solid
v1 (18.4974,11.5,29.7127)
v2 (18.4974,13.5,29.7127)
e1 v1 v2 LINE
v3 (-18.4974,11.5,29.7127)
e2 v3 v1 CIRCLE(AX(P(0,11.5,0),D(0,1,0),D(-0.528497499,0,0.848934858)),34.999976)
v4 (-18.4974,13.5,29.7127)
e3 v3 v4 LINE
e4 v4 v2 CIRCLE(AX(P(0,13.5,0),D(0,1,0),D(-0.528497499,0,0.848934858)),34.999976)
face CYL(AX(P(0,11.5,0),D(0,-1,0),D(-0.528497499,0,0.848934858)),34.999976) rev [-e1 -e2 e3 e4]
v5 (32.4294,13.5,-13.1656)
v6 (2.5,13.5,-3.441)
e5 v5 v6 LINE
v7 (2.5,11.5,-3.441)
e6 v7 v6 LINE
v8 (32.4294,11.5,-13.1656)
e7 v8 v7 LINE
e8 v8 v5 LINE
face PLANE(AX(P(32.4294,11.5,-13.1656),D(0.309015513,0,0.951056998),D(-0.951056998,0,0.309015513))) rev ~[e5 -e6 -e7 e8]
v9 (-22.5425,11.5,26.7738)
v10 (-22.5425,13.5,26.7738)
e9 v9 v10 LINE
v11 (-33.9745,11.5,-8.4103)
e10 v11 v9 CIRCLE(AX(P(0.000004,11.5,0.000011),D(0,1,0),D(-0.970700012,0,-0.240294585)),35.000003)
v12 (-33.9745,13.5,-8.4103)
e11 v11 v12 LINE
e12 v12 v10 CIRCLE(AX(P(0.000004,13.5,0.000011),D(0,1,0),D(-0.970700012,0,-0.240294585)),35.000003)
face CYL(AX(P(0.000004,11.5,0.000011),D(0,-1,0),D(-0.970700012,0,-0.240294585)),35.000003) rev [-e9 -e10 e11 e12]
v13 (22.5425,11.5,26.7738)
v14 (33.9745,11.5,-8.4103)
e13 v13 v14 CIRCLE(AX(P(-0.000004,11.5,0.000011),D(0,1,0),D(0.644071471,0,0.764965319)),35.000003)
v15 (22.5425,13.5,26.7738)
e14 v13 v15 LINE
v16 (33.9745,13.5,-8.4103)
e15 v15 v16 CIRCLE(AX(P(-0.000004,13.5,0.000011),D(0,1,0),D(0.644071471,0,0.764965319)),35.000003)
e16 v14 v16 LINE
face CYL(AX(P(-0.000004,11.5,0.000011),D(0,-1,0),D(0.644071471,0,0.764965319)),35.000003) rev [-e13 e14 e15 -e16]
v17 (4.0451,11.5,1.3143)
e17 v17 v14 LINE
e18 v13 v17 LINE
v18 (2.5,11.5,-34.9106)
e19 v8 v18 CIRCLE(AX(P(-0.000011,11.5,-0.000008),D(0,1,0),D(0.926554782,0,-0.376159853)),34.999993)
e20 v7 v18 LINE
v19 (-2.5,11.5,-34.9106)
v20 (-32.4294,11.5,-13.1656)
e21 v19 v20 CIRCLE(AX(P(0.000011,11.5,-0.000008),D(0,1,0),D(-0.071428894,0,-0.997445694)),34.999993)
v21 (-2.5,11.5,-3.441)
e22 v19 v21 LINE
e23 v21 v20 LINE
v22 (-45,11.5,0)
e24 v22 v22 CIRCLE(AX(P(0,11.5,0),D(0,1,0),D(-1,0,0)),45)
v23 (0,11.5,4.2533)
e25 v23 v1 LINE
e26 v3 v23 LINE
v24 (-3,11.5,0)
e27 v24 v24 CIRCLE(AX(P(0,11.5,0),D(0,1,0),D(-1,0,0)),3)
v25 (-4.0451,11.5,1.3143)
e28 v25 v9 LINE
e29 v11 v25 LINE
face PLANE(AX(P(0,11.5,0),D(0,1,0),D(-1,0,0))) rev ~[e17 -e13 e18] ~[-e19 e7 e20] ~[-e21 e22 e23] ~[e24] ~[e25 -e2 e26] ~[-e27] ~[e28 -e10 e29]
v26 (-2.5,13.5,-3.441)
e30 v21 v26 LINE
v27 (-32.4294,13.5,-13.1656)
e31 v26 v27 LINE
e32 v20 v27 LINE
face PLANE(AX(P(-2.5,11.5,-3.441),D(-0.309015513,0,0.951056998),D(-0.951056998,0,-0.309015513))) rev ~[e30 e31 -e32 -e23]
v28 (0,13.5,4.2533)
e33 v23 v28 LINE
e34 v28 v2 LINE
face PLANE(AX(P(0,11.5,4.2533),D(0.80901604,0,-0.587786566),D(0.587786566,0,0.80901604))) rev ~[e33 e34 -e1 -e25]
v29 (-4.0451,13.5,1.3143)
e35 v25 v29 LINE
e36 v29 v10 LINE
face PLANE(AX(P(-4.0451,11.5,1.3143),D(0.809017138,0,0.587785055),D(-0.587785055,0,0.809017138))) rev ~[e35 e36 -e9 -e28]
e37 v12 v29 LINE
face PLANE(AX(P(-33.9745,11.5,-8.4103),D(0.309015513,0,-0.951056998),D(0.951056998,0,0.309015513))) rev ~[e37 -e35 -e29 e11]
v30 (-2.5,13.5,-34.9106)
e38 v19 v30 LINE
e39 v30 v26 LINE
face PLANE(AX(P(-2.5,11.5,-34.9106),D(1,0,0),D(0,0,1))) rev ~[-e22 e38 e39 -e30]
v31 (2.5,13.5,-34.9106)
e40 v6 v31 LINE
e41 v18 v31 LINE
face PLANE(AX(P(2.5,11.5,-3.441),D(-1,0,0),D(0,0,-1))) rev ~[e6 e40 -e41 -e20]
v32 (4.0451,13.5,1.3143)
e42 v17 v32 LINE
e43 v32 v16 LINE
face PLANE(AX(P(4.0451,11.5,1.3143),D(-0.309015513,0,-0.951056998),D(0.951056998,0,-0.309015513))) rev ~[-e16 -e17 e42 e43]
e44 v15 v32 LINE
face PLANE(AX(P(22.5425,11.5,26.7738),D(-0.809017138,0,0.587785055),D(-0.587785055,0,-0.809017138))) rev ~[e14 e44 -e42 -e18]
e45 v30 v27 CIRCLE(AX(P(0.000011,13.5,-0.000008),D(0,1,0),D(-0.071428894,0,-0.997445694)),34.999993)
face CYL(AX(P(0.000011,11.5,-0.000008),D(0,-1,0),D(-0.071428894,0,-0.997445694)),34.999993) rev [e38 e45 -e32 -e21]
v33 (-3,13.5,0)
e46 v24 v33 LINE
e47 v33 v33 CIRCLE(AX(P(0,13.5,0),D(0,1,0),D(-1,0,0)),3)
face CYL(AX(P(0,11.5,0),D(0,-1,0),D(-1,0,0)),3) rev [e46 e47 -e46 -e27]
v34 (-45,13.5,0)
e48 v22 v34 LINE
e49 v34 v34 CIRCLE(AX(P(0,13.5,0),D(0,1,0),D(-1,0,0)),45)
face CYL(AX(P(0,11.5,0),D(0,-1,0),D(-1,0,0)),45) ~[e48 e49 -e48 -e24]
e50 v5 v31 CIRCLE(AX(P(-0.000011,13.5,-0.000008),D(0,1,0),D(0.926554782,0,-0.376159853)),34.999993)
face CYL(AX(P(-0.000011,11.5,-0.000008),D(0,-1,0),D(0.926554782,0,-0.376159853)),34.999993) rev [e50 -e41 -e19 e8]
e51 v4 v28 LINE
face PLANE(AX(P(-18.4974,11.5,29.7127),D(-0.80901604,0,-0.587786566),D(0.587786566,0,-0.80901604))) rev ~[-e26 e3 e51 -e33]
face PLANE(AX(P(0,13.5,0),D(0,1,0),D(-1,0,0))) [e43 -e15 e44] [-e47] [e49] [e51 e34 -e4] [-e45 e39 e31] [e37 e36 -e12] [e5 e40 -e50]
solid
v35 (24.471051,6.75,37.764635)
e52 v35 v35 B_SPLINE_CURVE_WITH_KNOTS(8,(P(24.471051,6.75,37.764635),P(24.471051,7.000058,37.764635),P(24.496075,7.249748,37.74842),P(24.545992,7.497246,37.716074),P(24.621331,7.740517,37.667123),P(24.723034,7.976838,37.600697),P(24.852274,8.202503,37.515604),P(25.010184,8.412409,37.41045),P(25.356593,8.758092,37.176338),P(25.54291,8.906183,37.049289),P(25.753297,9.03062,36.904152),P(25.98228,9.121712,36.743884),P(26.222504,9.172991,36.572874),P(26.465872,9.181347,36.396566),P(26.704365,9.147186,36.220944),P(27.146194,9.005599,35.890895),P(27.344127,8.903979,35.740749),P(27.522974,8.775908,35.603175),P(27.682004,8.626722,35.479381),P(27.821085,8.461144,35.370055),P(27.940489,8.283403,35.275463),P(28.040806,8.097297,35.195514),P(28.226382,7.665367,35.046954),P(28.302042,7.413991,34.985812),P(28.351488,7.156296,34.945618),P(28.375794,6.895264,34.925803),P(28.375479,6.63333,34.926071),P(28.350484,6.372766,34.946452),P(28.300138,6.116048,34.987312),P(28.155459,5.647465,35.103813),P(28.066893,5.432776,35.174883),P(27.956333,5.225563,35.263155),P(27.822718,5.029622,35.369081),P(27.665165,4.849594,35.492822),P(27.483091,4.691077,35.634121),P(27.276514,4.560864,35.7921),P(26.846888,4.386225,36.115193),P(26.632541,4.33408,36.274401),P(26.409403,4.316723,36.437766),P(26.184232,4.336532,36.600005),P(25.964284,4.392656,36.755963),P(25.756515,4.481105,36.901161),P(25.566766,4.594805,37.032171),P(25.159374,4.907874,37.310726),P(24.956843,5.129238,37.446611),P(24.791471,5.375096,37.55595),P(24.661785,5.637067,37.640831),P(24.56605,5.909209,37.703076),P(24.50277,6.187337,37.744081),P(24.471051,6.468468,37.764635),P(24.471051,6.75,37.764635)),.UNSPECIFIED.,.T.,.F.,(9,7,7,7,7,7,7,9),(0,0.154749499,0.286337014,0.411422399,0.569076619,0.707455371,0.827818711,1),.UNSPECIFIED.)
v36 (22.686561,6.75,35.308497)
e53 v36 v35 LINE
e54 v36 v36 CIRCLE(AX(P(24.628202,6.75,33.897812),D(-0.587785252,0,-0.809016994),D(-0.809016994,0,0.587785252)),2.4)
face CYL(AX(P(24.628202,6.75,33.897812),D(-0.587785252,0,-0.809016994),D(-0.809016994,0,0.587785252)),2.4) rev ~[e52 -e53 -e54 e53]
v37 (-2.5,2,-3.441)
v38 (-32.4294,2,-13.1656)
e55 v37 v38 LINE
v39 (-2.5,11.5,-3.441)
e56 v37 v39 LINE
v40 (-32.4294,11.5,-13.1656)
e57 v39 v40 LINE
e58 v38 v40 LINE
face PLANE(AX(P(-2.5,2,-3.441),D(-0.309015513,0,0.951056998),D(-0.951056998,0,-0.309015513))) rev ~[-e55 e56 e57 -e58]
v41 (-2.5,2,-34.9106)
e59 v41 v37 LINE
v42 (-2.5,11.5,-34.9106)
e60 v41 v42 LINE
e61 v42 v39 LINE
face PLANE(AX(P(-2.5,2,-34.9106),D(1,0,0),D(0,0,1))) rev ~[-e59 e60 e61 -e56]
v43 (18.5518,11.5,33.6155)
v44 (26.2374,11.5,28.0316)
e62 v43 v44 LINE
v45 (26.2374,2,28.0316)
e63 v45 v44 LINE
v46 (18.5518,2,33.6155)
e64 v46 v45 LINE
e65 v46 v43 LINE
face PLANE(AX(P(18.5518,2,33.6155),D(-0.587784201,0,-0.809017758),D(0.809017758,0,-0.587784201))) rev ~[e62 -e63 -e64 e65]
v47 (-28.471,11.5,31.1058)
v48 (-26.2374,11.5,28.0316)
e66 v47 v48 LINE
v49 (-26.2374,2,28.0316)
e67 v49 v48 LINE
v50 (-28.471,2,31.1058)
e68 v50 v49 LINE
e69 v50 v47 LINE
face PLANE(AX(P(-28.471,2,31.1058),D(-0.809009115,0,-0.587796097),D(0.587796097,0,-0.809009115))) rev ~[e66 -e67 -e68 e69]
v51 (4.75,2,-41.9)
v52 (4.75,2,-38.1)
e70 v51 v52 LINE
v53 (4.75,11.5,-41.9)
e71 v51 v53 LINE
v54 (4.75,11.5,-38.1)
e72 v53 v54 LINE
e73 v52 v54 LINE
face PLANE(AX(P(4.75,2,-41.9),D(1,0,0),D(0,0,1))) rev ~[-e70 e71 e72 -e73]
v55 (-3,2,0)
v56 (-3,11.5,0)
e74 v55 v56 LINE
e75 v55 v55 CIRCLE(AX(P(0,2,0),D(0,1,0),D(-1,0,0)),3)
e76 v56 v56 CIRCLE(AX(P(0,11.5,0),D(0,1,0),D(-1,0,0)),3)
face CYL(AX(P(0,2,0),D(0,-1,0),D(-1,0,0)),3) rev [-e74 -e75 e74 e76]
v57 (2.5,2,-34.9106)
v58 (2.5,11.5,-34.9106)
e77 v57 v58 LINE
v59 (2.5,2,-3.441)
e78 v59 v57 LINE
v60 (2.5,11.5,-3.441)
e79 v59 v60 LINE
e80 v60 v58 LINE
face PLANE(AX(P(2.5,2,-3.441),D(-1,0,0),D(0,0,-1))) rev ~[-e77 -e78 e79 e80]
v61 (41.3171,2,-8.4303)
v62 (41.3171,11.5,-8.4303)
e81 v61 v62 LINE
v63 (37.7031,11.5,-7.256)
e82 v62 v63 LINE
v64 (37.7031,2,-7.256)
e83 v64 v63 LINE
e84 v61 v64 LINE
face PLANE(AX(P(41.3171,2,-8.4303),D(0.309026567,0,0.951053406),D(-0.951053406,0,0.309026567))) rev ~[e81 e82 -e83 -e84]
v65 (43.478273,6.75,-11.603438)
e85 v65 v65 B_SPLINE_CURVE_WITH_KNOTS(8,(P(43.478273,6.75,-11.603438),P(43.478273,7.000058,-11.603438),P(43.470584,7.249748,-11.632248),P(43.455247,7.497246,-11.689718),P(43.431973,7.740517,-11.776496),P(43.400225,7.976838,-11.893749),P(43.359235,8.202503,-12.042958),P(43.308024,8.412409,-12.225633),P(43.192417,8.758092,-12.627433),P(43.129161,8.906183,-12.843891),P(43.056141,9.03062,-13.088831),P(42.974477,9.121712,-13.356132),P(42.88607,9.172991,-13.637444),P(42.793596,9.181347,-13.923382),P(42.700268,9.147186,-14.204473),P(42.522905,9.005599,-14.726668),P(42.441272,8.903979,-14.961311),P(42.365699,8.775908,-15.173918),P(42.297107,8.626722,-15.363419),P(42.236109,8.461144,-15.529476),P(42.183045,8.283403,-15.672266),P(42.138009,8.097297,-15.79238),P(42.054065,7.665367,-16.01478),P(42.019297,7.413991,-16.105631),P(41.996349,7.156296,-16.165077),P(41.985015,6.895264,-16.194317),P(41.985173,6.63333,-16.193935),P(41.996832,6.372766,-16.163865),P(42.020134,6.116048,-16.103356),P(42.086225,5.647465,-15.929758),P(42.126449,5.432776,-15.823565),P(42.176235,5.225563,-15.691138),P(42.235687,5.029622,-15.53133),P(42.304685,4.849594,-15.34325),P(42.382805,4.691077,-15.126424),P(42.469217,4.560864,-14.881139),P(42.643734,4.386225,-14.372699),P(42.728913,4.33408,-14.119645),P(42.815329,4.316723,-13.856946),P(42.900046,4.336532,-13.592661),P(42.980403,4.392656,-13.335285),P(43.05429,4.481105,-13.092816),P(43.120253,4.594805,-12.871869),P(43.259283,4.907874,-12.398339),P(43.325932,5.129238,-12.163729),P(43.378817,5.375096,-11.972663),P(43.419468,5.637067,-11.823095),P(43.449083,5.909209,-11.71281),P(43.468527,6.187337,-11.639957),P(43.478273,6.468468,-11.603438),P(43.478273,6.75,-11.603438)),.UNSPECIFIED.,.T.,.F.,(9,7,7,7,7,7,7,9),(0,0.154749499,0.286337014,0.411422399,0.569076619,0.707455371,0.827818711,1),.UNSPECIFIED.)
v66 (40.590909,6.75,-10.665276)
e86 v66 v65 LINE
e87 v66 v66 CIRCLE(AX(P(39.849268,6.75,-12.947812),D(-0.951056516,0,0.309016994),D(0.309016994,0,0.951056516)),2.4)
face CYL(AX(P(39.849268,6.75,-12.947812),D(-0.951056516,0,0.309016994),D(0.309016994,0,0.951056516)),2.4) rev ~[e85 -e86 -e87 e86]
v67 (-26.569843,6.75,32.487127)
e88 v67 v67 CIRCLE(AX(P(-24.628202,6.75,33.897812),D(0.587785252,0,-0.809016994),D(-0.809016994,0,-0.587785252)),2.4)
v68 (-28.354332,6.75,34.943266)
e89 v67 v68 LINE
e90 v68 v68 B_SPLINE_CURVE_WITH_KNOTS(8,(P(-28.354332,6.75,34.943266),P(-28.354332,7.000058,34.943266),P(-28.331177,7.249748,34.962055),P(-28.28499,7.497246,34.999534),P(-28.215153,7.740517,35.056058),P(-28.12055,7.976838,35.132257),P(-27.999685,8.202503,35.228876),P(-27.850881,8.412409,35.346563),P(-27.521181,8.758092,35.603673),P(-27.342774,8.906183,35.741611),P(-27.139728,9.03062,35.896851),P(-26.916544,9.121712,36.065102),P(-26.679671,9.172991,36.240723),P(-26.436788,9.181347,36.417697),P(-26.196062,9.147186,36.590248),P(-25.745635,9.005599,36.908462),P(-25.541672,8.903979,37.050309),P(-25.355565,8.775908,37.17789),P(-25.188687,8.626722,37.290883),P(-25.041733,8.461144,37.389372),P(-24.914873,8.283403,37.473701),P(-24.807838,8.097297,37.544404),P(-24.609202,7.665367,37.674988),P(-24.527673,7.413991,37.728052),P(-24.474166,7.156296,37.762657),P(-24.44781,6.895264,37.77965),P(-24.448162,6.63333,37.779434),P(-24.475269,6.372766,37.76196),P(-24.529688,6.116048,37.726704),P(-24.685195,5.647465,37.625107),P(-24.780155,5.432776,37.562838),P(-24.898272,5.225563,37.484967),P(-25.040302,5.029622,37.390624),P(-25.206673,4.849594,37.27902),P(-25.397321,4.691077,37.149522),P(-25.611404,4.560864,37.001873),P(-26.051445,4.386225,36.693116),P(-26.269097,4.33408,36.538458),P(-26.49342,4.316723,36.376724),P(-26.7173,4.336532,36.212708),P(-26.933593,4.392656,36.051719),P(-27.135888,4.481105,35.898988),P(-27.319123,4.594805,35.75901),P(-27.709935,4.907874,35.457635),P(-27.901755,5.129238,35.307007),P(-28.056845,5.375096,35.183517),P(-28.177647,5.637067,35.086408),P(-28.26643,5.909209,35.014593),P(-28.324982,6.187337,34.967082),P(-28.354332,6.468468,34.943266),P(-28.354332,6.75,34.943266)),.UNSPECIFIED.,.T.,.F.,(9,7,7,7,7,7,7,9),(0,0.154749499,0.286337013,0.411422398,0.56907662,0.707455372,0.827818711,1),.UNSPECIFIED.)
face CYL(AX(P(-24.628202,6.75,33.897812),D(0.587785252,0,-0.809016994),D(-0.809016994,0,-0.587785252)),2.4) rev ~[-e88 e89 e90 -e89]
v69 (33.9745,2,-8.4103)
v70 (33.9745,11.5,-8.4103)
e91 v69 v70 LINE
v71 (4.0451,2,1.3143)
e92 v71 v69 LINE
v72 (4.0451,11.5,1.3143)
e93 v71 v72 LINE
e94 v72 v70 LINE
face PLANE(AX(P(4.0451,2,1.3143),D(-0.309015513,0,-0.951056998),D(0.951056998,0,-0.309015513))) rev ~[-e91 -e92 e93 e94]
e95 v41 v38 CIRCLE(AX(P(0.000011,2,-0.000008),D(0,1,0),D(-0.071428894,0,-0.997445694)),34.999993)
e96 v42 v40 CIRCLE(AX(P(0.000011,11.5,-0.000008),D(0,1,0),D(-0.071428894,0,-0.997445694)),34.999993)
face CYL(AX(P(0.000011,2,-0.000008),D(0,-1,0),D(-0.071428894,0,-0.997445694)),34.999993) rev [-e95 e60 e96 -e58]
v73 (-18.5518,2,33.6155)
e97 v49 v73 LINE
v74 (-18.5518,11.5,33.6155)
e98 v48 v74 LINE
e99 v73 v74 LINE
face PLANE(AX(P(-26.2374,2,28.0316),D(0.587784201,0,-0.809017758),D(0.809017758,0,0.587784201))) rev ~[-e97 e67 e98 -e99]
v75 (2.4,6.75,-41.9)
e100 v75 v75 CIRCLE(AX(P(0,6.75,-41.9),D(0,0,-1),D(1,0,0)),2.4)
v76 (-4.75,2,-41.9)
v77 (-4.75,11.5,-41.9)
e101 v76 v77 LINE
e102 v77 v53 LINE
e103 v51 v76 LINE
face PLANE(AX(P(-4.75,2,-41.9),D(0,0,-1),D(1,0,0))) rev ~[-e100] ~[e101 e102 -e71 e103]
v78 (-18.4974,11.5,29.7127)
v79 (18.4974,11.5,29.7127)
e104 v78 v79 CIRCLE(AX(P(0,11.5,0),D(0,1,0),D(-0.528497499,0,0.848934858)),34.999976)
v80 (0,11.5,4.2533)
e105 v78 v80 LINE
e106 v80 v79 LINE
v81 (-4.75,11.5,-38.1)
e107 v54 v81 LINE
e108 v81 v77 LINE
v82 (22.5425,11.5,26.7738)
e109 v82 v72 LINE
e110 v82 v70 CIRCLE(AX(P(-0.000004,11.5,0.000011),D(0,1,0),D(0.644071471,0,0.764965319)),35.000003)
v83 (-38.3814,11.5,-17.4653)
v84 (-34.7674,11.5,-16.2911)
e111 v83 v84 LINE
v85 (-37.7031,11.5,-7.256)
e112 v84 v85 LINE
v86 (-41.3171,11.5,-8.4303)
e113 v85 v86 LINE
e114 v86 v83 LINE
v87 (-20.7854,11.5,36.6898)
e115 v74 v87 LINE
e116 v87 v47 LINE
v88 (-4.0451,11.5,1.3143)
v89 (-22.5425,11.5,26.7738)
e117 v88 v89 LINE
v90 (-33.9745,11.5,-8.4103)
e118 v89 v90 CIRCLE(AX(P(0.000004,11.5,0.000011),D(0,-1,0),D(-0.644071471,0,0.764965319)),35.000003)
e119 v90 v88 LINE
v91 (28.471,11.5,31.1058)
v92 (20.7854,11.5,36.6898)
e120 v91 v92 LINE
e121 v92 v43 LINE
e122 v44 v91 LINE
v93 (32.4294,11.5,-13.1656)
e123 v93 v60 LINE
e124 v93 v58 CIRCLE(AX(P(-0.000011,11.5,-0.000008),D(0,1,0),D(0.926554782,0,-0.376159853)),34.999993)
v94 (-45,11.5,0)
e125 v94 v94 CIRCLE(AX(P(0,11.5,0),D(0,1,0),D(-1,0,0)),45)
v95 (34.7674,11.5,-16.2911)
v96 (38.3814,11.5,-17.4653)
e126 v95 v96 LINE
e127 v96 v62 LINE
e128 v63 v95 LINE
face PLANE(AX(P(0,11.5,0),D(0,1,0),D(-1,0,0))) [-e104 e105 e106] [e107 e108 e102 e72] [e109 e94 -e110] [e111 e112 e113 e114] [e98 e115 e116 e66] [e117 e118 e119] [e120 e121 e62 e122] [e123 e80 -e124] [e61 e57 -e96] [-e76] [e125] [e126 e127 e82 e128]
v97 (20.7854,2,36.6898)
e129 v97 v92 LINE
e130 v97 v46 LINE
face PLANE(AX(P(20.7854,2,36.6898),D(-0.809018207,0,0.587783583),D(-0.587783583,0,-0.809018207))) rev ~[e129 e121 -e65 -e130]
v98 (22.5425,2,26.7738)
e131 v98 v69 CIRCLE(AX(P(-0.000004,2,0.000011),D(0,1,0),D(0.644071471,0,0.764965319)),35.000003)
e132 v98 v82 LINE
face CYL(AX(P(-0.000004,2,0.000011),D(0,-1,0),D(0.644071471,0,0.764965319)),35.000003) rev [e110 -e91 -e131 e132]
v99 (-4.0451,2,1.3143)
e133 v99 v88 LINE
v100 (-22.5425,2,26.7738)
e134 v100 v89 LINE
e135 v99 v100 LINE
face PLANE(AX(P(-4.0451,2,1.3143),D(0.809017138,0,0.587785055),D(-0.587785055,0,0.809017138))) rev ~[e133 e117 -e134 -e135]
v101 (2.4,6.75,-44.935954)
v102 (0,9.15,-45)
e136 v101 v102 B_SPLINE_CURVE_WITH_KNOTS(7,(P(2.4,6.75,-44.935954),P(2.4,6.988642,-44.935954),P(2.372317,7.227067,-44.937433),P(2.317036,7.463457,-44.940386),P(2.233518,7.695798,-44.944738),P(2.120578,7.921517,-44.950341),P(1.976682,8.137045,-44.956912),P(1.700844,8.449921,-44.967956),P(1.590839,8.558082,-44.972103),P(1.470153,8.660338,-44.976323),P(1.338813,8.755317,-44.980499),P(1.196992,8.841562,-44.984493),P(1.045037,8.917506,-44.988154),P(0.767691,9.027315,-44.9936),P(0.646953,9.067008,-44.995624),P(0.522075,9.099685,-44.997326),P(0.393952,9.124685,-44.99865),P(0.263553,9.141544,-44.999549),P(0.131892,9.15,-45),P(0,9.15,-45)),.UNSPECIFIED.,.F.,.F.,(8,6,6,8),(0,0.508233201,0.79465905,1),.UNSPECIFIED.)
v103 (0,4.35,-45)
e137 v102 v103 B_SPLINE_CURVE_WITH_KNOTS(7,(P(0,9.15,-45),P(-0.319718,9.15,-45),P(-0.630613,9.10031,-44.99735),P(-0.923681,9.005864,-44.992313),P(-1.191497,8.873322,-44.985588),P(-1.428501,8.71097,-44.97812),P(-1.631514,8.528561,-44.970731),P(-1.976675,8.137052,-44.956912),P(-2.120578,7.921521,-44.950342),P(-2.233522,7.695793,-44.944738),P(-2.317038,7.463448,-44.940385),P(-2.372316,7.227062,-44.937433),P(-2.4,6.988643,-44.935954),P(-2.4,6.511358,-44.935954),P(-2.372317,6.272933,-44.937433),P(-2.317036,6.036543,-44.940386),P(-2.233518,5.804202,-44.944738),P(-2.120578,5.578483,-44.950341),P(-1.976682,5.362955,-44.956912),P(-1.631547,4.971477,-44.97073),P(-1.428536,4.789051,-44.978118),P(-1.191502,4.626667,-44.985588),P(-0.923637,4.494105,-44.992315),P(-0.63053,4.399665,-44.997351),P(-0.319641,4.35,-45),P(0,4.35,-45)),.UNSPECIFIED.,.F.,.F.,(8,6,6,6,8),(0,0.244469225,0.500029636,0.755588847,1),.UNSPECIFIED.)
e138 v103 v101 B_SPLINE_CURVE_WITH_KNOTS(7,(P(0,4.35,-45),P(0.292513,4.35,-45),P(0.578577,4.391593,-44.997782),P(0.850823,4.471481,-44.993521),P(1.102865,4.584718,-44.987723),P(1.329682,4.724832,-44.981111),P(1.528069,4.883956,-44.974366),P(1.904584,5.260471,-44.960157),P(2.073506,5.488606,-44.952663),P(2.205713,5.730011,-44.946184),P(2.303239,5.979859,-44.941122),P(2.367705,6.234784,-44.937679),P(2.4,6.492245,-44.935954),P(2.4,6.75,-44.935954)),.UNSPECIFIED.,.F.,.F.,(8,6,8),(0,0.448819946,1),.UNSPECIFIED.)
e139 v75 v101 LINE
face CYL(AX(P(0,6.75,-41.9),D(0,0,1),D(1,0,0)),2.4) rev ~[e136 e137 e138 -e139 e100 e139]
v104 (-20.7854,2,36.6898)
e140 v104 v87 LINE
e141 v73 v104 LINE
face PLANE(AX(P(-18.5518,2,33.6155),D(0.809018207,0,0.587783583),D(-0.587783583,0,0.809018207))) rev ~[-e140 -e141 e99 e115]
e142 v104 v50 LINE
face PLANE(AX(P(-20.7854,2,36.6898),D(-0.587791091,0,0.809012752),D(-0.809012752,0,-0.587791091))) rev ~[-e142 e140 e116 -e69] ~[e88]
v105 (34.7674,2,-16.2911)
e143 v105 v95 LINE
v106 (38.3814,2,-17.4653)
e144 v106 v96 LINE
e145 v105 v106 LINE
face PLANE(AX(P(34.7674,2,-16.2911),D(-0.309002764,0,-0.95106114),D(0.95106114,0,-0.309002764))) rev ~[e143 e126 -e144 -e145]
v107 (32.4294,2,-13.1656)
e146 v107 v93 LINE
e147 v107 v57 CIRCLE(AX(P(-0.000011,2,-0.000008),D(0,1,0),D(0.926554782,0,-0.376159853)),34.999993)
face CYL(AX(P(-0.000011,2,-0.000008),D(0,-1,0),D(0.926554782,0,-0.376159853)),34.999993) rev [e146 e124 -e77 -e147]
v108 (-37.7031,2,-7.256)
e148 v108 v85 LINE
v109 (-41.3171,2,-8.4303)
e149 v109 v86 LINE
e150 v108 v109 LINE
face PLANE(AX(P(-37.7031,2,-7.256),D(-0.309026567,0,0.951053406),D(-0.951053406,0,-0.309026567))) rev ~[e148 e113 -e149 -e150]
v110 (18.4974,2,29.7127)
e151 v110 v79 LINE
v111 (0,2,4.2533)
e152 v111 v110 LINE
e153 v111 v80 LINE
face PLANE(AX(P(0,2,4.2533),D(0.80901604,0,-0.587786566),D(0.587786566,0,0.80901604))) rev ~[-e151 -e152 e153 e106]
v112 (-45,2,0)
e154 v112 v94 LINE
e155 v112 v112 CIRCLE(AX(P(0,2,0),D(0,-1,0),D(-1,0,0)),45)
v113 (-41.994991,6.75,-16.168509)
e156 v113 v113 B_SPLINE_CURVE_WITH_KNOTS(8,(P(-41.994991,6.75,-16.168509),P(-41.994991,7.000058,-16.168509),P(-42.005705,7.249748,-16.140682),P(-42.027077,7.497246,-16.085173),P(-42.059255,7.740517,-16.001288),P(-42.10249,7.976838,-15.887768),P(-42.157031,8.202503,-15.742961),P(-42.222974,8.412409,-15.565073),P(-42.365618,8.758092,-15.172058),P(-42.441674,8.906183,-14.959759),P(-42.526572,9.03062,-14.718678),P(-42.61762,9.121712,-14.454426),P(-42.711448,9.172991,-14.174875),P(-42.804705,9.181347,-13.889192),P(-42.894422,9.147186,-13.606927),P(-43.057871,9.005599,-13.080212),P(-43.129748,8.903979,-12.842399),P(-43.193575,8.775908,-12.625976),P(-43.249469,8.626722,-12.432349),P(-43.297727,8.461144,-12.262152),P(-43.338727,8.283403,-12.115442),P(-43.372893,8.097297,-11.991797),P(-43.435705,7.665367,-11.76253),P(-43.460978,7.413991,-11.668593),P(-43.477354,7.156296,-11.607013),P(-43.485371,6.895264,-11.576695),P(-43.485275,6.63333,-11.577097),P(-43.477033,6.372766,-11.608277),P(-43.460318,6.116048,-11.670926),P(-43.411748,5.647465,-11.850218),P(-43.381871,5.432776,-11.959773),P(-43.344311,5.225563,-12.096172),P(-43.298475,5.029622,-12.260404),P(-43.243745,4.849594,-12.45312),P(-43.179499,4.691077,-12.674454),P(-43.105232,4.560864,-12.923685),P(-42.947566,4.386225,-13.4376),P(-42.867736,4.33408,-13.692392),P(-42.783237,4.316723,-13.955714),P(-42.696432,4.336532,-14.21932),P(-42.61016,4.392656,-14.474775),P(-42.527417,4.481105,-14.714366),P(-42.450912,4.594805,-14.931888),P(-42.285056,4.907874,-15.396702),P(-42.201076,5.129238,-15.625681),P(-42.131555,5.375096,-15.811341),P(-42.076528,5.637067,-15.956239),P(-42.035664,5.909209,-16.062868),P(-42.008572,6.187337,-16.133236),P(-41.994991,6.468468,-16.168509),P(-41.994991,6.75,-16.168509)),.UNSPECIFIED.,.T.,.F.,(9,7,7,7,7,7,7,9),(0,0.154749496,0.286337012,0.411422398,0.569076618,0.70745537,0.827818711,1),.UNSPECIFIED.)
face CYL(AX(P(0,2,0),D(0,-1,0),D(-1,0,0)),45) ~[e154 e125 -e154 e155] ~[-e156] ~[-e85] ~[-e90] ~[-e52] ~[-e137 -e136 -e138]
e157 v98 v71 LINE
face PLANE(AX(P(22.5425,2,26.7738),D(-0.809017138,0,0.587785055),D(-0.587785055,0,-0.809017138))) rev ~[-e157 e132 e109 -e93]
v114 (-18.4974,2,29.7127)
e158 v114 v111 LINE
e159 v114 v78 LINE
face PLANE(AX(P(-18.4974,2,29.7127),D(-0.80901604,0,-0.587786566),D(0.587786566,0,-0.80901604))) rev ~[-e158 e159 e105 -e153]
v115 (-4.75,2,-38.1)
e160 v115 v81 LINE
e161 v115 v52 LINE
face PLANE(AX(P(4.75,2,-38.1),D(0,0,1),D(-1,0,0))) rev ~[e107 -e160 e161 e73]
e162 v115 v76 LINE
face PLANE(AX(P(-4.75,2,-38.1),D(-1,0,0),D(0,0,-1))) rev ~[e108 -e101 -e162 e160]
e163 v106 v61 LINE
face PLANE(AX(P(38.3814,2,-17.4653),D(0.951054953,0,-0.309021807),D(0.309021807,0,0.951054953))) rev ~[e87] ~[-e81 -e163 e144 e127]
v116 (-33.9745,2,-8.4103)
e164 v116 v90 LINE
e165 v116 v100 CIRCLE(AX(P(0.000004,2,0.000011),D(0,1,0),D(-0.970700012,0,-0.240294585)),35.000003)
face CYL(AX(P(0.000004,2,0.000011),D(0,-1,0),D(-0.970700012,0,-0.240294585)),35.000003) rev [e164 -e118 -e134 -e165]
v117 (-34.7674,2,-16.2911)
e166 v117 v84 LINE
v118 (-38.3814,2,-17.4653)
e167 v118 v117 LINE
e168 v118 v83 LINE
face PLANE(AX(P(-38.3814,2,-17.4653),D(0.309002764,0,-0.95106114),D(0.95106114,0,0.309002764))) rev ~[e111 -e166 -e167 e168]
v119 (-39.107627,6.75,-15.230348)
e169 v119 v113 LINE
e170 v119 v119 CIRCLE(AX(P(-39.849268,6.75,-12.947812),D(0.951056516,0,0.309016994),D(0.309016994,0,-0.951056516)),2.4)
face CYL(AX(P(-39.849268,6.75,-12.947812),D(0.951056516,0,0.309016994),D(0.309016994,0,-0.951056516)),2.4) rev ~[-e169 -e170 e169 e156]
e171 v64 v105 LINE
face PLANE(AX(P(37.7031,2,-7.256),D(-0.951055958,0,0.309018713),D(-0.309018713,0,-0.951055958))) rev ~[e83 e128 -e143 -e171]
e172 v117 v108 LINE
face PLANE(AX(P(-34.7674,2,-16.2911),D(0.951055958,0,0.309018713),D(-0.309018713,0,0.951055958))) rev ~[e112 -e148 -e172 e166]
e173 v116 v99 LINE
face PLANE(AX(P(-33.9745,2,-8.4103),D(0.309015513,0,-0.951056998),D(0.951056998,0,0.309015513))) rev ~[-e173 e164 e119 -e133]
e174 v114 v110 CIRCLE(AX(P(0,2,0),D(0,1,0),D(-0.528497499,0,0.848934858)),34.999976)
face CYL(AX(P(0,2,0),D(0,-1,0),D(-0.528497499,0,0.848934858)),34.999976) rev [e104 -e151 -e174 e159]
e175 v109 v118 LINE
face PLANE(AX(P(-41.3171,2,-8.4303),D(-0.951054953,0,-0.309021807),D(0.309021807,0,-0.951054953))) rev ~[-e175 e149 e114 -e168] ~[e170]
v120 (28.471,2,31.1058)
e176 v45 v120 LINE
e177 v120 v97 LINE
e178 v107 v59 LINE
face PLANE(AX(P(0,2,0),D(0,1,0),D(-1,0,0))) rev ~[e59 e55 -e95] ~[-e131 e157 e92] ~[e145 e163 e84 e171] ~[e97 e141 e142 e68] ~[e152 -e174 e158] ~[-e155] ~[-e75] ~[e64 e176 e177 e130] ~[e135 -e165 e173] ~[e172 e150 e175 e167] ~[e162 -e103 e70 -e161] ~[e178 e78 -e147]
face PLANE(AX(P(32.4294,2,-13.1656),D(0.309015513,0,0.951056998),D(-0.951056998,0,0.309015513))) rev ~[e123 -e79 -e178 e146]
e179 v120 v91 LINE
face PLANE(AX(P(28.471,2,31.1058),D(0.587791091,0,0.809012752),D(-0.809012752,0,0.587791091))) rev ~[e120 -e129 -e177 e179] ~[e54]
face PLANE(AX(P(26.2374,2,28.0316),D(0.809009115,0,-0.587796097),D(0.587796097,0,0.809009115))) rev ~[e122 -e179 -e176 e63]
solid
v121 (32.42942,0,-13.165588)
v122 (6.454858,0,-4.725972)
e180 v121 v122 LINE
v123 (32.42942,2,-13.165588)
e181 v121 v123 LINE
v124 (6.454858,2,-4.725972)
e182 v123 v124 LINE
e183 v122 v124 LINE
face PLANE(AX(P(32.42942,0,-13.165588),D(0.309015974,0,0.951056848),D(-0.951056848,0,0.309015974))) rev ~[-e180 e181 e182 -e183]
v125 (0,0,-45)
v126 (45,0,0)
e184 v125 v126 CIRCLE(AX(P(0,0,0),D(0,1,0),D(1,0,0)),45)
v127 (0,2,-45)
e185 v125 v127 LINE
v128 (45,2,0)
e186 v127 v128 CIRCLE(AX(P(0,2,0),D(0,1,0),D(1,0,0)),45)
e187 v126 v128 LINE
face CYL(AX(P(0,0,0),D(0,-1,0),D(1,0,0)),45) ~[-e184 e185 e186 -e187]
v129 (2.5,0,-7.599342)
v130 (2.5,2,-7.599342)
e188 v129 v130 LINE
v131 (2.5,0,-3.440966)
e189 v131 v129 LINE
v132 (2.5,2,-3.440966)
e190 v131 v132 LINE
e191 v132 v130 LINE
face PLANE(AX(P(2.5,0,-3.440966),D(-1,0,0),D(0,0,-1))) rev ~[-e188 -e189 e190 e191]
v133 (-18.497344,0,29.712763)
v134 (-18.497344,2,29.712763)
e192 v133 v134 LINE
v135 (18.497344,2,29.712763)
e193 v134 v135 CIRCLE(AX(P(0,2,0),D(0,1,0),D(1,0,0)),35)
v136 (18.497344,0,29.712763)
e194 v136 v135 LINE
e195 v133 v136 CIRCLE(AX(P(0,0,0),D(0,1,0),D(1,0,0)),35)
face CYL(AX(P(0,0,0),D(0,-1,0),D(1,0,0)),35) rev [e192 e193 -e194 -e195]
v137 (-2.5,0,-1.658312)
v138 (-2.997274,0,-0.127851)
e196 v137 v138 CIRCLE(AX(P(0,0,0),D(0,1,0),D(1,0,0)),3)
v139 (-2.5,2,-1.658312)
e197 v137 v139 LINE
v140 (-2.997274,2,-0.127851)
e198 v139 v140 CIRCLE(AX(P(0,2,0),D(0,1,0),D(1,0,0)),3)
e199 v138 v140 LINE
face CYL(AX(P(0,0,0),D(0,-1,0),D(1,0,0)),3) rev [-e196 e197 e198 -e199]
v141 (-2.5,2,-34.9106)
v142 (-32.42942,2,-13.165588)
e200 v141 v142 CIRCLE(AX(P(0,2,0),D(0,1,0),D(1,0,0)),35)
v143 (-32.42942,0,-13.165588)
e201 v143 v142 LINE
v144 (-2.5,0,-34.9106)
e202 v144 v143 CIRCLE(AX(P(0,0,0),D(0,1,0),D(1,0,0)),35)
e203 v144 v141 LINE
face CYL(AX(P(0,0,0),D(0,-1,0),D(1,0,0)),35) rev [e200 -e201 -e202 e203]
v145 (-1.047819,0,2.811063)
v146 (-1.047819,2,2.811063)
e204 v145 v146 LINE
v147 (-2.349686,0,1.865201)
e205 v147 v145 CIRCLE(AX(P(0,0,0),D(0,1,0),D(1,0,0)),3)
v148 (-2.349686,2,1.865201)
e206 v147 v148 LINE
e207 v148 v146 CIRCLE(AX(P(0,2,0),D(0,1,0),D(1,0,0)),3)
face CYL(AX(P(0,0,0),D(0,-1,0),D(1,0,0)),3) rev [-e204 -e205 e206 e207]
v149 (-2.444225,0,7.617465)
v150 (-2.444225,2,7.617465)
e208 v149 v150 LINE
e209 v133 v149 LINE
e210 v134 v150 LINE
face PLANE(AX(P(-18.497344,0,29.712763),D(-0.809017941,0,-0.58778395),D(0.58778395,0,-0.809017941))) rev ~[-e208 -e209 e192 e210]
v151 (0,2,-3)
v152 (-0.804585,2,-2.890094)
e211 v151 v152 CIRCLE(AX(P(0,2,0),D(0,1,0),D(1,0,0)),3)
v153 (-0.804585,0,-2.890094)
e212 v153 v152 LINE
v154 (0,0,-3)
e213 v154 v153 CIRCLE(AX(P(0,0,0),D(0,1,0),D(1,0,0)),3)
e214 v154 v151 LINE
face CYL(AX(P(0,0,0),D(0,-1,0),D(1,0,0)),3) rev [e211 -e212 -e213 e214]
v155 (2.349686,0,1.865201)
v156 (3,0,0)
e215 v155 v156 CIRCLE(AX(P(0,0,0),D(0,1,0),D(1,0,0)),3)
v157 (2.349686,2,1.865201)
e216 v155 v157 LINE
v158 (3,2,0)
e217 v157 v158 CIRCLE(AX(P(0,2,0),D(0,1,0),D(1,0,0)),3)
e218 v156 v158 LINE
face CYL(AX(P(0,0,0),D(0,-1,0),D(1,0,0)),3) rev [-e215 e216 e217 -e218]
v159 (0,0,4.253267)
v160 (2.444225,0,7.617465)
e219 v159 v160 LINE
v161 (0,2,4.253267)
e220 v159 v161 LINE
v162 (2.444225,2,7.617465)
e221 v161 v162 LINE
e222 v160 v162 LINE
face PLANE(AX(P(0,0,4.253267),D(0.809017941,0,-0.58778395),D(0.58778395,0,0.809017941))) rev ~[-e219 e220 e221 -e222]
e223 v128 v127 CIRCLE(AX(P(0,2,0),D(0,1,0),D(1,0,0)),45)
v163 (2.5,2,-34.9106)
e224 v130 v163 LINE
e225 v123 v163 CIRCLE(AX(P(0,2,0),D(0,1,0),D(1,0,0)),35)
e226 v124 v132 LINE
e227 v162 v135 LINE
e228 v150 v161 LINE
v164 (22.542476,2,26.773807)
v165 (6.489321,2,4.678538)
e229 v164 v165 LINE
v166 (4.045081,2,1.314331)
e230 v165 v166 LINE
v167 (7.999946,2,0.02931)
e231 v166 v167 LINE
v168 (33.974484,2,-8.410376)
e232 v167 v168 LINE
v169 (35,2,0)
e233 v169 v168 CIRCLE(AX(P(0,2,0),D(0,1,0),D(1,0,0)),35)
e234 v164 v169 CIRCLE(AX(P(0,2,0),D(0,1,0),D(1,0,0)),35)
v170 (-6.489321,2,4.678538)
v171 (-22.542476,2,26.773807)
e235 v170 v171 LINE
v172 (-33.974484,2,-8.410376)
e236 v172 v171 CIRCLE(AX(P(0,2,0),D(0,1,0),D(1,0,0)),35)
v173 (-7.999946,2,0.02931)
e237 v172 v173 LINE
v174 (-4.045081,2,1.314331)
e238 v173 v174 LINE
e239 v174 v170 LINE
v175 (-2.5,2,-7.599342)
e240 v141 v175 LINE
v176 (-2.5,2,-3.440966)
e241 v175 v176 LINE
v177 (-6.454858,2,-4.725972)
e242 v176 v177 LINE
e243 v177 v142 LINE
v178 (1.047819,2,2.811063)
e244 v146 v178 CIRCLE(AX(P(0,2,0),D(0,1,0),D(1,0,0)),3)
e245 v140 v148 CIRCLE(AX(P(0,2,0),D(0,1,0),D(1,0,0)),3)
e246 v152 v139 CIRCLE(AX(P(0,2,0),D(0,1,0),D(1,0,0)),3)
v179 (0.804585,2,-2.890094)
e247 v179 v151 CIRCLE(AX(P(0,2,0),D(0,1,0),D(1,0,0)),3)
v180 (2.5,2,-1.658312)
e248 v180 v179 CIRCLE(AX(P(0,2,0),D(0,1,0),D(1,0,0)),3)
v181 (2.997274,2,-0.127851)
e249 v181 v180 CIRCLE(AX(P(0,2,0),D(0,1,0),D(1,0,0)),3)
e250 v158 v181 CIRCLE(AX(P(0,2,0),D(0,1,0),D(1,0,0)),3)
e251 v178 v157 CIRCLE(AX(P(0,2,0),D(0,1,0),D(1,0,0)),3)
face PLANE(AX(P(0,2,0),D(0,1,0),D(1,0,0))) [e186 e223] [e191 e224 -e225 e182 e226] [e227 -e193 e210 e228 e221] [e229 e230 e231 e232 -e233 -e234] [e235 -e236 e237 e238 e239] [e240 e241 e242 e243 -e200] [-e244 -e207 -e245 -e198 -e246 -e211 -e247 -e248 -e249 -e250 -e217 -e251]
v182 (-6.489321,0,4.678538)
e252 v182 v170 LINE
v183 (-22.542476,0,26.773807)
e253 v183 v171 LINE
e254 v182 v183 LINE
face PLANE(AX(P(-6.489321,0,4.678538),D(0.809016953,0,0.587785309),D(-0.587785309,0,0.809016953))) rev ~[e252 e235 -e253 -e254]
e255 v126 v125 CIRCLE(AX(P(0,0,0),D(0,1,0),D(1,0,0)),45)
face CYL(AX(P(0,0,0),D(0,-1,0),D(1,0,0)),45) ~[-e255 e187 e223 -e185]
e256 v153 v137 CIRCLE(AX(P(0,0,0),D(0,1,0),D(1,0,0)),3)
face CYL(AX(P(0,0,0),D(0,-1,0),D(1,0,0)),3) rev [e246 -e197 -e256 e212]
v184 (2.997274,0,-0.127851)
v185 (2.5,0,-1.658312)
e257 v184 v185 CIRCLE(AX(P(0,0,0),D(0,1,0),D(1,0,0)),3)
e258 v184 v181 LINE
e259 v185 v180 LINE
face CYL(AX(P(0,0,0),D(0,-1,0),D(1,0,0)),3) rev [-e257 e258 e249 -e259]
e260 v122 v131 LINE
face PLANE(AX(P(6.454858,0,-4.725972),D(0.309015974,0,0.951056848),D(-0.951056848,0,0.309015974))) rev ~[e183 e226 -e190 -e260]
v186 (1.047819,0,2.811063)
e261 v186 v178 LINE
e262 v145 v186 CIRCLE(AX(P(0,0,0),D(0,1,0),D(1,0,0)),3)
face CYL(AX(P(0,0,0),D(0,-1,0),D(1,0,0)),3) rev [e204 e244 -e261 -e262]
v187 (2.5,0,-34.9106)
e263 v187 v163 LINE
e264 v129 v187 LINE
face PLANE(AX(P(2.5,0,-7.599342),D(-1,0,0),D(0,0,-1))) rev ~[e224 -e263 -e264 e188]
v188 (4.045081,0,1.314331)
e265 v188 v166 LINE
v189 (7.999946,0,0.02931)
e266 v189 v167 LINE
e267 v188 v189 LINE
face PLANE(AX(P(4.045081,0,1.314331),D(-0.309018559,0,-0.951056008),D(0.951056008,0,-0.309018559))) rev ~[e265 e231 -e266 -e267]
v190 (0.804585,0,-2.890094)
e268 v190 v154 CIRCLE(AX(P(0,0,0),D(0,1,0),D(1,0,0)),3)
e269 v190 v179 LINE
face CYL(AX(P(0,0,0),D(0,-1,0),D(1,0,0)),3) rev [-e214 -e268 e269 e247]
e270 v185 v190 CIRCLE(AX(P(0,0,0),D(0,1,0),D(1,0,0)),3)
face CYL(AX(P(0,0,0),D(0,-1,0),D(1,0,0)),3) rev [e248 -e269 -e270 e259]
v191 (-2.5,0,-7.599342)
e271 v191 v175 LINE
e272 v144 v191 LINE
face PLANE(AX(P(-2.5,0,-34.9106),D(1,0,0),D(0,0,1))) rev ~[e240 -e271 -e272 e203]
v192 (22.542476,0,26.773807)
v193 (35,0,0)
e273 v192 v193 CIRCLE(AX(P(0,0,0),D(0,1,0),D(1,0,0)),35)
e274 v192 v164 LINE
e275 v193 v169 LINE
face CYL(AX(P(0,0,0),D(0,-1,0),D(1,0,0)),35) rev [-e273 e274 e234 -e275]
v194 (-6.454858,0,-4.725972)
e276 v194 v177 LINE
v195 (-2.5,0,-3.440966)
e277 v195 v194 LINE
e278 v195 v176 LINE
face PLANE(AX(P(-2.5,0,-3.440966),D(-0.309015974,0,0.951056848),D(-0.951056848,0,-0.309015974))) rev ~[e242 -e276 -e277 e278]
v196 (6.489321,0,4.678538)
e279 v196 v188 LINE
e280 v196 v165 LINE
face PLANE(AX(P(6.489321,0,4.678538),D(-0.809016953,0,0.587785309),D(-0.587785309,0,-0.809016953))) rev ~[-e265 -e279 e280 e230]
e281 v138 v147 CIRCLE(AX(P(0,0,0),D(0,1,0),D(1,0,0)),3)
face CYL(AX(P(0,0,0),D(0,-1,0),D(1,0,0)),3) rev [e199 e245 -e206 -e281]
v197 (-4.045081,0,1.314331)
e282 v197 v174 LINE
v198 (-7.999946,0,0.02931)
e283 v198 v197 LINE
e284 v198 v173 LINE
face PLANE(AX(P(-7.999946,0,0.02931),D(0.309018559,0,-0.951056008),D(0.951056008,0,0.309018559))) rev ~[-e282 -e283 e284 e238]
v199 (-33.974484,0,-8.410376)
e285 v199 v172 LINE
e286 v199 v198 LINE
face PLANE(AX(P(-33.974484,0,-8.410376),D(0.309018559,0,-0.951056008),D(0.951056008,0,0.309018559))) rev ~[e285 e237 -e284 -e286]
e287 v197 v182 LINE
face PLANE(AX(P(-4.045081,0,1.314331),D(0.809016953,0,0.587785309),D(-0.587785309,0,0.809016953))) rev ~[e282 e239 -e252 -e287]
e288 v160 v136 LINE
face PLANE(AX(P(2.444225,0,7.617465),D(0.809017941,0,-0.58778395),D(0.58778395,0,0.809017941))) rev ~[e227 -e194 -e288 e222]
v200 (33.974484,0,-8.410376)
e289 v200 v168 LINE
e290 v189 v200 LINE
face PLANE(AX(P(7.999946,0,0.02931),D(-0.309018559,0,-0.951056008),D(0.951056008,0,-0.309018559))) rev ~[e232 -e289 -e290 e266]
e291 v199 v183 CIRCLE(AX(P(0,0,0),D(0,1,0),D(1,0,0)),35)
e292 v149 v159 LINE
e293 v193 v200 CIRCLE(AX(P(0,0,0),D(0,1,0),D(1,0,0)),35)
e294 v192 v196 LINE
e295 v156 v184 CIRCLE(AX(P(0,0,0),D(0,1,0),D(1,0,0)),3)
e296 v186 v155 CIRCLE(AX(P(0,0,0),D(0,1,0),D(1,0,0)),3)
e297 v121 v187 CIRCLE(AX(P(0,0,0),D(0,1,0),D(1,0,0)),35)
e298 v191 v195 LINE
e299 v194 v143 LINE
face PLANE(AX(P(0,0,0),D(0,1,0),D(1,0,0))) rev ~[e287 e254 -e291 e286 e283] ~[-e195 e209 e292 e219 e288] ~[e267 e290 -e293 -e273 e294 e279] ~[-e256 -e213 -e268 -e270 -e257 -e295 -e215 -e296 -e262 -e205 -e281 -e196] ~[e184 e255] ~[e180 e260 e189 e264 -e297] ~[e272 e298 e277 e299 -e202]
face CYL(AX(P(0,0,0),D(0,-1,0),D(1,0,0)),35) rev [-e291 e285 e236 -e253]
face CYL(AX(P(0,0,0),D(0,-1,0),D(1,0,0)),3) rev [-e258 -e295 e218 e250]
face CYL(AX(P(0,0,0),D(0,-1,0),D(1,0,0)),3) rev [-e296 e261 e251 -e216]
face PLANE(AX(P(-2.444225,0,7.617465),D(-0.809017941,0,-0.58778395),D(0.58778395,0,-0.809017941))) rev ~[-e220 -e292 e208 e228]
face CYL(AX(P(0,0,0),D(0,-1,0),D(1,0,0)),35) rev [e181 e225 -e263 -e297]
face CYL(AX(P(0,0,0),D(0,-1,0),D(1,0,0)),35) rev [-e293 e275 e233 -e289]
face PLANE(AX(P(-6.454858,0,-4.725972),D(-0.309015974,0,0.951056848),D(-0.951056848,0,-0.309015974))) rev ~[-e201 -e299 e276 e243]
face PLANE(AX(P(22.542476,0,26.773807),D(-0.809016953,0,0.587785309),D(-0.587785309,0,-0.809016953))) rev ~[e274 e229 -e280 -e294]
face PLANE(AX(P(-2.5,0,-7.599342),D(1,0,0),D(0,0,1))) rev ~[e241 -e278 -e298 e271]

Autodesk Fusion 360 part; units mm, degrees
sketch "Sketch1" plane through (0, 0, 0) normal (0, 1, 0) x (1, 0, 0)
  circle A0 centre (0, 0) radius 3
  circle A1 centre (0, 0) radius 8
  line L0 (0, 0) -> (0, 35)
  line L1 (0, 35) -> (-2.5, 35)
  line L2 (0, 35) -> (2.5, 35)
  line L3 (-2.5, 35) -> (-2.5, 0.0004)
  line L4 (-2.5, 0.0004) -> (2.5, 0.0004)
  line L5 (2.5, 0.0004) -> (2.5, 35)
  line L6 (0.7721, 2.3778) -> (-32.5144, 13.1932)
  line L7 (-34.0595, 8.438) -> (-0.773, -2.3775)
  line L8 (-33.287, 10.8156) -> (-34.0595, 8.438)
  line L9 (-33.287, 10.8156) -> (-32.5144, 13.1932)
  line L10 (-2.0228, 1.4691) -> (-22.595, -26.8461)
  line L11 (-18.5499, -29.7851) -> (2.0223, -1.4698)
  line L12 (-20.5725, -28.3156) -> (-18.5499, -29.7851)
  line L13 (-20.5725, -28.3156) -> (-22.595, -26.8461)
  line L14 (-2.0223, -1.4698) -> (18.5499, -29.7851)
  line L15 (22.595, -26.8461) -> (2.0228, 1.4691)
  line L16 (20.5725, -28.3156) -> (22.595, -26.8461)
  line L17 (20.5725, -28.3156) -> (18.5499, -29.7851)
  line L18 (0.773, -2.3775) -> (34.0595, 8.438)
  line L19 (32.5144, 13.1932) -> (-0.7721, 2.3778)
  line L20 (33.287, 10.8156) -> (32.5144, 13.1932)
  line L21 (33.287, 10.8156) -> (34.0595, 8.438)
  circle A2 centre (0, 0) radius 35
  line L22 (0, 35) -> (0, 45)
  circle A3 centre (0, 0) radius 45
  point P0 (0, 35)
  dimension "d1" = 6
  dimension "d2" = 16
  dimension "d3" = 35
  dimension "d4" = 2.5
  dimension "d6" = 360
  dimension "d7" = 10
extrude "Extrude1" add sketch "Sketch1" along normal blind 2 contours A0 L15 L18 | A0 A1 L5 L15 L18 L19 | A0 A1 L11 L14 L15 L18 | A0 L5 L19 | A0 L11 L14 | A0 A1 L0 L5 L19 | A1 L14 L15 A2 | A1 L18 L19 A2 | A0 A1 L7 L10 L11 L14 | A0 A1 L0 L3 L6 | A1 L0 L5 A2 | L15 L16 A2 | L18 L21 A2 | A0 L7 L10 | A1 L10 L11 A2 | A0 L3 L6 | A1 L0 L3 A2 | L2 L5 A2 | L19 L20 A2 | L14 L17 A2 | A0 A1 L3 L6 L7 L10 | L11 L12 A2 | L1 L3 A2 | A1 L6 L7 A2 | L10 L13 A2 | L7 L8 A2 | L6 L9 A2 | A3 makes body 1
sketch "Sketch2" plane through (0, 2, 0) normal (0, 1, 0) x (-1, 0, 0)
  arc A0 (-32.4294, -13.1656) -> (-2.5, -34.9106) centre (0, 0) ccw
  line L0 (-32.4294, -13.1656) -> (-2.5, -3.441)
  line L1 (-2.5, -3.441) -> (-2.5, -34.9106)
  arc A1 (2.5, -34.9106) -> (32.4294, -13.1656) centre (0, 0) ccw
  line L2 (2.5, -34.9106) -> (2.5, -3.441)
  line L3 (2.5, -3.441) -> (32.4294, -13.1656)
  line L4 (-22.5425, 26.7738) -> (-4.0451, 1.3143)
  line L5 (-4.0451, 1.3143) -> (-33.9745, -8.4103)
  arc A2 (-22.5425, 26.7738) -> (-33.9745, -8.4103) centre (0, 0) ccw
  arc A3 (33.9745, -8.4103) -> (22.5425, 26.7738) centre (0, 0) ccw
  line L6 (33.9745, -8.4103) -> (4.0451, 1.3143)
  line L7 (4.0451, 1.3143) -> (22.5425, 26.7738)
  arc A4 (18.4974, 29.7127) -> (-18.4974, 29.7127) centre (0, 0) ccw
  line L8 (18.4974, 29.7127) -> (0, 4.2533)
  line L9 (0, 4.2533) -> (-18.4974, 29.7127)
  circle A5 centre (0, 0) radius 3
  circle A6 centre (0, 0) radius 45
  circle A7 centre (0, 0) radius 35
  circle A8 centre (0, 0) radius 45
  line L10 (4.75, -41.9) -> (-4.75, -41.9)
  line L11 (-4.75, -41.9) -> (-4.75, -38.1)
  line L12 (-4.75, -38.1) -> (4.75, -38.1)
  line L13 (4.75, -38.1) -> (4.75, -41.9)
  line L14 (0, -35) -> (0, -38.1)
  line L15 (0, -45) -> (0, -41.9)
  line L16 (41.3171, -8.4303) -> (38.3814, -17.4653)
  line L17 (38.3814, -17.4653) -> (34.7674, -16.2911)
  line L18 (37.7031, -7.256) -> (41.3171, -8.4303)
  line L19 (34.7674, -16.2911) -> (37.7031, -7.256)
  line L20 (20.7854, 36.6898) -> (28.471, 31.1058)
  line L21 (28.471, 31.1058) -> (26.2374, 28.0316)
  line L22 (18.5518, 33.6155) -> (20.7854, 36.6898)
  line L23 (26.2374, 28.0316) -> (18.5518, 33.6155)
  line L24 (-28.471, 31.1058) -> (-20.7854, 36.6898)
  line L25 (-20.7854, 36.6898) -> (-18.5518, 33.6155)
  line L26 (-26.2374, 28.0316) -> (-28.471, 31.1058)
  line L27 (-18.5518, 33.6155) -> (-26.2374, 28.0316)
  line L28 (-38.3814, -17.4653) -> (-41.3171, -8.4303)
  line L29 (-41.3171, -8.4303) -> (-37.7031, -7.256)
  line L30 (-34.7674, -16.2911) -> (-38.3814, -17.4653)
  line L31 (-37.7031, -7.256) -> (-34.7674, -16.2911)
  dimension "d10" = 9.5
  dimension "d11" = 3.8
  dimension "d13" = 360
extrude "Extrude2" add sketch "Sketch2" along normal blind 9.5 separate body contours L0 L1 L2 L3 L4 L5 L6 L7 L8 L9 A7 | A6 A8 makes body 2
sketch "Sketch3" plane through (0, 0, -41.9) normal (0, 0, 1) x (1, 0, 0)
  line L0 (-4.75, 2) -> (4.75, 2)
  line L1 (4.75, 2) -> (4.75, 11.5)
  line L2 (4.75, 11.5) -> (-4.75, 11.5)
  line L3 (-4.75, 11.5) -> (-4.75, 2)
  line L4 (-4.75, 11.5) -> (4.75, 2) construction
  line L5 (4.75, 11.5) -> (-4.75, 2) construction
  circle A0 centre (0, 6.75) radius 2.4
  dimension "d16" = 4.8
extrude "Extrude3" cut sketch "Sketch3" against normal through all contours A0 bodies 2
pattern_circular "C-Pattern1" count 5 over 360 about axis through (0, 2, 0) along (0, 1, 0) of "Extrude3"
sketch "Sketch4" plane through (0, 11.5, 0) normal (0, 1, 0) x (-1, 0, 0)
  arc A0 (18.4974, 29.7127) -> (-18.4974, 29.7127) centre (0, 0) ccw
  line L0 (18.4974, 29.7127) -> (0, 4.2533)
  line L1 (0, 4.2533) -> (-18.4974, 29.7127)
  arc A1 (2.5, -34.9106) -> (32.4294, -13.1656) centre (0, 0) ccw
  line L2 (2.5, -34.9106) -> (2.5, -3.441)
  line L3 (2.5, -3.441) -> (32.4294, -13.1656)
  arc A2 (-22.5425, 26.7738) -> (-33.9745, -8.4103) centre (0, 0) ccw
  line L4 (-22.5425, 26.7738) -> (-4.0451, 1.3143)
  line L5 (-4.0451, 1.3143) -> (-33.9745, -8.4103)
  arc A3 (-32.4294, -13.1656) -> (-2.5, -34.9106) centre (0, 0) ccw
  line L6 (-32.4294, -13.1656) -> (-2.5, -3.441)
  line L7 (-2.5, -3.441) -> (-2.5, -34.9106)
  line L8 (33.9745, -8.4103) -> (4.0451, 1.3143)
  line L9 (4.0451, 1.3143) -> (22.5425, 26.7738)
  arc A4 (33.9745, -8.4103) -> (22.5425, 26.7738) centre (0, 0) ccw
  line L10 (-4.75, -38.1) -> (4.75, -38.1)
  line L11 (4.75, -38.1) -> (4.75, -41.9)
  line L12 (4.75, -41.9) -> (-4.75, -41.9)
  line L13 (-4.75, -41.9) -> (-4.75, -38.1)
  circle A5 centre (0, 0) radius 3
  line L14 (-20.7854, 36.6898) -> (-18.5518, 33.6155)
  line L15 (-18.5518, 33.6155) -> (-26.2374, 28.0316)
  line L16 (-26.2374, 28.0316) -> (-28.471, 31.1058)
  line L17 (-28.471, 31.1058) -> (-20.7854, 36.6898)
  line L18 (-41.3171, -8.4303) -> (-37.7031, -7.256)
  line L19 (-37.7031, -7.256) -> (-34.7674, -16.2911)
  line L20 (-34.7674, -16.2911) -> (-38.3814, -17.4653)
  line L21 (-38.3814, -17.4653) -> (-41.3171, -8.4303)
  line L22 (28.471, 31.1058) -> (26.2374, 28.0316)
  line L23 (26.2374, 28.0316) -> (18.5518, 33.6155)
  line L24 (18.5518, 33.6155) -> (20.7854, 36.6898)
  line L25 (20.7854, 36.6898) -> (28.471, 31.1058)
  line L26 (38.3814, -17.4653) -> (34.7674, -16.2911)
  line L27 (34.7674, -16.2911) -> (37.7031, -7.256)
  line L28 (37.7031, -7.256) -> (41.3171, -8.4303)
  line L29 (41.3171, -8.4303) -> (38.3814, -17.4653)
  circle A6 centre (0, 0) radius 45
extrude "Extrude4" add sketch "Sketch4" along normal blind 2 separate body contours L10 L11 L12 L13 | L14 L15 L16 L17 | L18 L19 L20 L21 | L22 L23 L24 L25 | L26 L27 L28 L29 | A6 makes body 3
